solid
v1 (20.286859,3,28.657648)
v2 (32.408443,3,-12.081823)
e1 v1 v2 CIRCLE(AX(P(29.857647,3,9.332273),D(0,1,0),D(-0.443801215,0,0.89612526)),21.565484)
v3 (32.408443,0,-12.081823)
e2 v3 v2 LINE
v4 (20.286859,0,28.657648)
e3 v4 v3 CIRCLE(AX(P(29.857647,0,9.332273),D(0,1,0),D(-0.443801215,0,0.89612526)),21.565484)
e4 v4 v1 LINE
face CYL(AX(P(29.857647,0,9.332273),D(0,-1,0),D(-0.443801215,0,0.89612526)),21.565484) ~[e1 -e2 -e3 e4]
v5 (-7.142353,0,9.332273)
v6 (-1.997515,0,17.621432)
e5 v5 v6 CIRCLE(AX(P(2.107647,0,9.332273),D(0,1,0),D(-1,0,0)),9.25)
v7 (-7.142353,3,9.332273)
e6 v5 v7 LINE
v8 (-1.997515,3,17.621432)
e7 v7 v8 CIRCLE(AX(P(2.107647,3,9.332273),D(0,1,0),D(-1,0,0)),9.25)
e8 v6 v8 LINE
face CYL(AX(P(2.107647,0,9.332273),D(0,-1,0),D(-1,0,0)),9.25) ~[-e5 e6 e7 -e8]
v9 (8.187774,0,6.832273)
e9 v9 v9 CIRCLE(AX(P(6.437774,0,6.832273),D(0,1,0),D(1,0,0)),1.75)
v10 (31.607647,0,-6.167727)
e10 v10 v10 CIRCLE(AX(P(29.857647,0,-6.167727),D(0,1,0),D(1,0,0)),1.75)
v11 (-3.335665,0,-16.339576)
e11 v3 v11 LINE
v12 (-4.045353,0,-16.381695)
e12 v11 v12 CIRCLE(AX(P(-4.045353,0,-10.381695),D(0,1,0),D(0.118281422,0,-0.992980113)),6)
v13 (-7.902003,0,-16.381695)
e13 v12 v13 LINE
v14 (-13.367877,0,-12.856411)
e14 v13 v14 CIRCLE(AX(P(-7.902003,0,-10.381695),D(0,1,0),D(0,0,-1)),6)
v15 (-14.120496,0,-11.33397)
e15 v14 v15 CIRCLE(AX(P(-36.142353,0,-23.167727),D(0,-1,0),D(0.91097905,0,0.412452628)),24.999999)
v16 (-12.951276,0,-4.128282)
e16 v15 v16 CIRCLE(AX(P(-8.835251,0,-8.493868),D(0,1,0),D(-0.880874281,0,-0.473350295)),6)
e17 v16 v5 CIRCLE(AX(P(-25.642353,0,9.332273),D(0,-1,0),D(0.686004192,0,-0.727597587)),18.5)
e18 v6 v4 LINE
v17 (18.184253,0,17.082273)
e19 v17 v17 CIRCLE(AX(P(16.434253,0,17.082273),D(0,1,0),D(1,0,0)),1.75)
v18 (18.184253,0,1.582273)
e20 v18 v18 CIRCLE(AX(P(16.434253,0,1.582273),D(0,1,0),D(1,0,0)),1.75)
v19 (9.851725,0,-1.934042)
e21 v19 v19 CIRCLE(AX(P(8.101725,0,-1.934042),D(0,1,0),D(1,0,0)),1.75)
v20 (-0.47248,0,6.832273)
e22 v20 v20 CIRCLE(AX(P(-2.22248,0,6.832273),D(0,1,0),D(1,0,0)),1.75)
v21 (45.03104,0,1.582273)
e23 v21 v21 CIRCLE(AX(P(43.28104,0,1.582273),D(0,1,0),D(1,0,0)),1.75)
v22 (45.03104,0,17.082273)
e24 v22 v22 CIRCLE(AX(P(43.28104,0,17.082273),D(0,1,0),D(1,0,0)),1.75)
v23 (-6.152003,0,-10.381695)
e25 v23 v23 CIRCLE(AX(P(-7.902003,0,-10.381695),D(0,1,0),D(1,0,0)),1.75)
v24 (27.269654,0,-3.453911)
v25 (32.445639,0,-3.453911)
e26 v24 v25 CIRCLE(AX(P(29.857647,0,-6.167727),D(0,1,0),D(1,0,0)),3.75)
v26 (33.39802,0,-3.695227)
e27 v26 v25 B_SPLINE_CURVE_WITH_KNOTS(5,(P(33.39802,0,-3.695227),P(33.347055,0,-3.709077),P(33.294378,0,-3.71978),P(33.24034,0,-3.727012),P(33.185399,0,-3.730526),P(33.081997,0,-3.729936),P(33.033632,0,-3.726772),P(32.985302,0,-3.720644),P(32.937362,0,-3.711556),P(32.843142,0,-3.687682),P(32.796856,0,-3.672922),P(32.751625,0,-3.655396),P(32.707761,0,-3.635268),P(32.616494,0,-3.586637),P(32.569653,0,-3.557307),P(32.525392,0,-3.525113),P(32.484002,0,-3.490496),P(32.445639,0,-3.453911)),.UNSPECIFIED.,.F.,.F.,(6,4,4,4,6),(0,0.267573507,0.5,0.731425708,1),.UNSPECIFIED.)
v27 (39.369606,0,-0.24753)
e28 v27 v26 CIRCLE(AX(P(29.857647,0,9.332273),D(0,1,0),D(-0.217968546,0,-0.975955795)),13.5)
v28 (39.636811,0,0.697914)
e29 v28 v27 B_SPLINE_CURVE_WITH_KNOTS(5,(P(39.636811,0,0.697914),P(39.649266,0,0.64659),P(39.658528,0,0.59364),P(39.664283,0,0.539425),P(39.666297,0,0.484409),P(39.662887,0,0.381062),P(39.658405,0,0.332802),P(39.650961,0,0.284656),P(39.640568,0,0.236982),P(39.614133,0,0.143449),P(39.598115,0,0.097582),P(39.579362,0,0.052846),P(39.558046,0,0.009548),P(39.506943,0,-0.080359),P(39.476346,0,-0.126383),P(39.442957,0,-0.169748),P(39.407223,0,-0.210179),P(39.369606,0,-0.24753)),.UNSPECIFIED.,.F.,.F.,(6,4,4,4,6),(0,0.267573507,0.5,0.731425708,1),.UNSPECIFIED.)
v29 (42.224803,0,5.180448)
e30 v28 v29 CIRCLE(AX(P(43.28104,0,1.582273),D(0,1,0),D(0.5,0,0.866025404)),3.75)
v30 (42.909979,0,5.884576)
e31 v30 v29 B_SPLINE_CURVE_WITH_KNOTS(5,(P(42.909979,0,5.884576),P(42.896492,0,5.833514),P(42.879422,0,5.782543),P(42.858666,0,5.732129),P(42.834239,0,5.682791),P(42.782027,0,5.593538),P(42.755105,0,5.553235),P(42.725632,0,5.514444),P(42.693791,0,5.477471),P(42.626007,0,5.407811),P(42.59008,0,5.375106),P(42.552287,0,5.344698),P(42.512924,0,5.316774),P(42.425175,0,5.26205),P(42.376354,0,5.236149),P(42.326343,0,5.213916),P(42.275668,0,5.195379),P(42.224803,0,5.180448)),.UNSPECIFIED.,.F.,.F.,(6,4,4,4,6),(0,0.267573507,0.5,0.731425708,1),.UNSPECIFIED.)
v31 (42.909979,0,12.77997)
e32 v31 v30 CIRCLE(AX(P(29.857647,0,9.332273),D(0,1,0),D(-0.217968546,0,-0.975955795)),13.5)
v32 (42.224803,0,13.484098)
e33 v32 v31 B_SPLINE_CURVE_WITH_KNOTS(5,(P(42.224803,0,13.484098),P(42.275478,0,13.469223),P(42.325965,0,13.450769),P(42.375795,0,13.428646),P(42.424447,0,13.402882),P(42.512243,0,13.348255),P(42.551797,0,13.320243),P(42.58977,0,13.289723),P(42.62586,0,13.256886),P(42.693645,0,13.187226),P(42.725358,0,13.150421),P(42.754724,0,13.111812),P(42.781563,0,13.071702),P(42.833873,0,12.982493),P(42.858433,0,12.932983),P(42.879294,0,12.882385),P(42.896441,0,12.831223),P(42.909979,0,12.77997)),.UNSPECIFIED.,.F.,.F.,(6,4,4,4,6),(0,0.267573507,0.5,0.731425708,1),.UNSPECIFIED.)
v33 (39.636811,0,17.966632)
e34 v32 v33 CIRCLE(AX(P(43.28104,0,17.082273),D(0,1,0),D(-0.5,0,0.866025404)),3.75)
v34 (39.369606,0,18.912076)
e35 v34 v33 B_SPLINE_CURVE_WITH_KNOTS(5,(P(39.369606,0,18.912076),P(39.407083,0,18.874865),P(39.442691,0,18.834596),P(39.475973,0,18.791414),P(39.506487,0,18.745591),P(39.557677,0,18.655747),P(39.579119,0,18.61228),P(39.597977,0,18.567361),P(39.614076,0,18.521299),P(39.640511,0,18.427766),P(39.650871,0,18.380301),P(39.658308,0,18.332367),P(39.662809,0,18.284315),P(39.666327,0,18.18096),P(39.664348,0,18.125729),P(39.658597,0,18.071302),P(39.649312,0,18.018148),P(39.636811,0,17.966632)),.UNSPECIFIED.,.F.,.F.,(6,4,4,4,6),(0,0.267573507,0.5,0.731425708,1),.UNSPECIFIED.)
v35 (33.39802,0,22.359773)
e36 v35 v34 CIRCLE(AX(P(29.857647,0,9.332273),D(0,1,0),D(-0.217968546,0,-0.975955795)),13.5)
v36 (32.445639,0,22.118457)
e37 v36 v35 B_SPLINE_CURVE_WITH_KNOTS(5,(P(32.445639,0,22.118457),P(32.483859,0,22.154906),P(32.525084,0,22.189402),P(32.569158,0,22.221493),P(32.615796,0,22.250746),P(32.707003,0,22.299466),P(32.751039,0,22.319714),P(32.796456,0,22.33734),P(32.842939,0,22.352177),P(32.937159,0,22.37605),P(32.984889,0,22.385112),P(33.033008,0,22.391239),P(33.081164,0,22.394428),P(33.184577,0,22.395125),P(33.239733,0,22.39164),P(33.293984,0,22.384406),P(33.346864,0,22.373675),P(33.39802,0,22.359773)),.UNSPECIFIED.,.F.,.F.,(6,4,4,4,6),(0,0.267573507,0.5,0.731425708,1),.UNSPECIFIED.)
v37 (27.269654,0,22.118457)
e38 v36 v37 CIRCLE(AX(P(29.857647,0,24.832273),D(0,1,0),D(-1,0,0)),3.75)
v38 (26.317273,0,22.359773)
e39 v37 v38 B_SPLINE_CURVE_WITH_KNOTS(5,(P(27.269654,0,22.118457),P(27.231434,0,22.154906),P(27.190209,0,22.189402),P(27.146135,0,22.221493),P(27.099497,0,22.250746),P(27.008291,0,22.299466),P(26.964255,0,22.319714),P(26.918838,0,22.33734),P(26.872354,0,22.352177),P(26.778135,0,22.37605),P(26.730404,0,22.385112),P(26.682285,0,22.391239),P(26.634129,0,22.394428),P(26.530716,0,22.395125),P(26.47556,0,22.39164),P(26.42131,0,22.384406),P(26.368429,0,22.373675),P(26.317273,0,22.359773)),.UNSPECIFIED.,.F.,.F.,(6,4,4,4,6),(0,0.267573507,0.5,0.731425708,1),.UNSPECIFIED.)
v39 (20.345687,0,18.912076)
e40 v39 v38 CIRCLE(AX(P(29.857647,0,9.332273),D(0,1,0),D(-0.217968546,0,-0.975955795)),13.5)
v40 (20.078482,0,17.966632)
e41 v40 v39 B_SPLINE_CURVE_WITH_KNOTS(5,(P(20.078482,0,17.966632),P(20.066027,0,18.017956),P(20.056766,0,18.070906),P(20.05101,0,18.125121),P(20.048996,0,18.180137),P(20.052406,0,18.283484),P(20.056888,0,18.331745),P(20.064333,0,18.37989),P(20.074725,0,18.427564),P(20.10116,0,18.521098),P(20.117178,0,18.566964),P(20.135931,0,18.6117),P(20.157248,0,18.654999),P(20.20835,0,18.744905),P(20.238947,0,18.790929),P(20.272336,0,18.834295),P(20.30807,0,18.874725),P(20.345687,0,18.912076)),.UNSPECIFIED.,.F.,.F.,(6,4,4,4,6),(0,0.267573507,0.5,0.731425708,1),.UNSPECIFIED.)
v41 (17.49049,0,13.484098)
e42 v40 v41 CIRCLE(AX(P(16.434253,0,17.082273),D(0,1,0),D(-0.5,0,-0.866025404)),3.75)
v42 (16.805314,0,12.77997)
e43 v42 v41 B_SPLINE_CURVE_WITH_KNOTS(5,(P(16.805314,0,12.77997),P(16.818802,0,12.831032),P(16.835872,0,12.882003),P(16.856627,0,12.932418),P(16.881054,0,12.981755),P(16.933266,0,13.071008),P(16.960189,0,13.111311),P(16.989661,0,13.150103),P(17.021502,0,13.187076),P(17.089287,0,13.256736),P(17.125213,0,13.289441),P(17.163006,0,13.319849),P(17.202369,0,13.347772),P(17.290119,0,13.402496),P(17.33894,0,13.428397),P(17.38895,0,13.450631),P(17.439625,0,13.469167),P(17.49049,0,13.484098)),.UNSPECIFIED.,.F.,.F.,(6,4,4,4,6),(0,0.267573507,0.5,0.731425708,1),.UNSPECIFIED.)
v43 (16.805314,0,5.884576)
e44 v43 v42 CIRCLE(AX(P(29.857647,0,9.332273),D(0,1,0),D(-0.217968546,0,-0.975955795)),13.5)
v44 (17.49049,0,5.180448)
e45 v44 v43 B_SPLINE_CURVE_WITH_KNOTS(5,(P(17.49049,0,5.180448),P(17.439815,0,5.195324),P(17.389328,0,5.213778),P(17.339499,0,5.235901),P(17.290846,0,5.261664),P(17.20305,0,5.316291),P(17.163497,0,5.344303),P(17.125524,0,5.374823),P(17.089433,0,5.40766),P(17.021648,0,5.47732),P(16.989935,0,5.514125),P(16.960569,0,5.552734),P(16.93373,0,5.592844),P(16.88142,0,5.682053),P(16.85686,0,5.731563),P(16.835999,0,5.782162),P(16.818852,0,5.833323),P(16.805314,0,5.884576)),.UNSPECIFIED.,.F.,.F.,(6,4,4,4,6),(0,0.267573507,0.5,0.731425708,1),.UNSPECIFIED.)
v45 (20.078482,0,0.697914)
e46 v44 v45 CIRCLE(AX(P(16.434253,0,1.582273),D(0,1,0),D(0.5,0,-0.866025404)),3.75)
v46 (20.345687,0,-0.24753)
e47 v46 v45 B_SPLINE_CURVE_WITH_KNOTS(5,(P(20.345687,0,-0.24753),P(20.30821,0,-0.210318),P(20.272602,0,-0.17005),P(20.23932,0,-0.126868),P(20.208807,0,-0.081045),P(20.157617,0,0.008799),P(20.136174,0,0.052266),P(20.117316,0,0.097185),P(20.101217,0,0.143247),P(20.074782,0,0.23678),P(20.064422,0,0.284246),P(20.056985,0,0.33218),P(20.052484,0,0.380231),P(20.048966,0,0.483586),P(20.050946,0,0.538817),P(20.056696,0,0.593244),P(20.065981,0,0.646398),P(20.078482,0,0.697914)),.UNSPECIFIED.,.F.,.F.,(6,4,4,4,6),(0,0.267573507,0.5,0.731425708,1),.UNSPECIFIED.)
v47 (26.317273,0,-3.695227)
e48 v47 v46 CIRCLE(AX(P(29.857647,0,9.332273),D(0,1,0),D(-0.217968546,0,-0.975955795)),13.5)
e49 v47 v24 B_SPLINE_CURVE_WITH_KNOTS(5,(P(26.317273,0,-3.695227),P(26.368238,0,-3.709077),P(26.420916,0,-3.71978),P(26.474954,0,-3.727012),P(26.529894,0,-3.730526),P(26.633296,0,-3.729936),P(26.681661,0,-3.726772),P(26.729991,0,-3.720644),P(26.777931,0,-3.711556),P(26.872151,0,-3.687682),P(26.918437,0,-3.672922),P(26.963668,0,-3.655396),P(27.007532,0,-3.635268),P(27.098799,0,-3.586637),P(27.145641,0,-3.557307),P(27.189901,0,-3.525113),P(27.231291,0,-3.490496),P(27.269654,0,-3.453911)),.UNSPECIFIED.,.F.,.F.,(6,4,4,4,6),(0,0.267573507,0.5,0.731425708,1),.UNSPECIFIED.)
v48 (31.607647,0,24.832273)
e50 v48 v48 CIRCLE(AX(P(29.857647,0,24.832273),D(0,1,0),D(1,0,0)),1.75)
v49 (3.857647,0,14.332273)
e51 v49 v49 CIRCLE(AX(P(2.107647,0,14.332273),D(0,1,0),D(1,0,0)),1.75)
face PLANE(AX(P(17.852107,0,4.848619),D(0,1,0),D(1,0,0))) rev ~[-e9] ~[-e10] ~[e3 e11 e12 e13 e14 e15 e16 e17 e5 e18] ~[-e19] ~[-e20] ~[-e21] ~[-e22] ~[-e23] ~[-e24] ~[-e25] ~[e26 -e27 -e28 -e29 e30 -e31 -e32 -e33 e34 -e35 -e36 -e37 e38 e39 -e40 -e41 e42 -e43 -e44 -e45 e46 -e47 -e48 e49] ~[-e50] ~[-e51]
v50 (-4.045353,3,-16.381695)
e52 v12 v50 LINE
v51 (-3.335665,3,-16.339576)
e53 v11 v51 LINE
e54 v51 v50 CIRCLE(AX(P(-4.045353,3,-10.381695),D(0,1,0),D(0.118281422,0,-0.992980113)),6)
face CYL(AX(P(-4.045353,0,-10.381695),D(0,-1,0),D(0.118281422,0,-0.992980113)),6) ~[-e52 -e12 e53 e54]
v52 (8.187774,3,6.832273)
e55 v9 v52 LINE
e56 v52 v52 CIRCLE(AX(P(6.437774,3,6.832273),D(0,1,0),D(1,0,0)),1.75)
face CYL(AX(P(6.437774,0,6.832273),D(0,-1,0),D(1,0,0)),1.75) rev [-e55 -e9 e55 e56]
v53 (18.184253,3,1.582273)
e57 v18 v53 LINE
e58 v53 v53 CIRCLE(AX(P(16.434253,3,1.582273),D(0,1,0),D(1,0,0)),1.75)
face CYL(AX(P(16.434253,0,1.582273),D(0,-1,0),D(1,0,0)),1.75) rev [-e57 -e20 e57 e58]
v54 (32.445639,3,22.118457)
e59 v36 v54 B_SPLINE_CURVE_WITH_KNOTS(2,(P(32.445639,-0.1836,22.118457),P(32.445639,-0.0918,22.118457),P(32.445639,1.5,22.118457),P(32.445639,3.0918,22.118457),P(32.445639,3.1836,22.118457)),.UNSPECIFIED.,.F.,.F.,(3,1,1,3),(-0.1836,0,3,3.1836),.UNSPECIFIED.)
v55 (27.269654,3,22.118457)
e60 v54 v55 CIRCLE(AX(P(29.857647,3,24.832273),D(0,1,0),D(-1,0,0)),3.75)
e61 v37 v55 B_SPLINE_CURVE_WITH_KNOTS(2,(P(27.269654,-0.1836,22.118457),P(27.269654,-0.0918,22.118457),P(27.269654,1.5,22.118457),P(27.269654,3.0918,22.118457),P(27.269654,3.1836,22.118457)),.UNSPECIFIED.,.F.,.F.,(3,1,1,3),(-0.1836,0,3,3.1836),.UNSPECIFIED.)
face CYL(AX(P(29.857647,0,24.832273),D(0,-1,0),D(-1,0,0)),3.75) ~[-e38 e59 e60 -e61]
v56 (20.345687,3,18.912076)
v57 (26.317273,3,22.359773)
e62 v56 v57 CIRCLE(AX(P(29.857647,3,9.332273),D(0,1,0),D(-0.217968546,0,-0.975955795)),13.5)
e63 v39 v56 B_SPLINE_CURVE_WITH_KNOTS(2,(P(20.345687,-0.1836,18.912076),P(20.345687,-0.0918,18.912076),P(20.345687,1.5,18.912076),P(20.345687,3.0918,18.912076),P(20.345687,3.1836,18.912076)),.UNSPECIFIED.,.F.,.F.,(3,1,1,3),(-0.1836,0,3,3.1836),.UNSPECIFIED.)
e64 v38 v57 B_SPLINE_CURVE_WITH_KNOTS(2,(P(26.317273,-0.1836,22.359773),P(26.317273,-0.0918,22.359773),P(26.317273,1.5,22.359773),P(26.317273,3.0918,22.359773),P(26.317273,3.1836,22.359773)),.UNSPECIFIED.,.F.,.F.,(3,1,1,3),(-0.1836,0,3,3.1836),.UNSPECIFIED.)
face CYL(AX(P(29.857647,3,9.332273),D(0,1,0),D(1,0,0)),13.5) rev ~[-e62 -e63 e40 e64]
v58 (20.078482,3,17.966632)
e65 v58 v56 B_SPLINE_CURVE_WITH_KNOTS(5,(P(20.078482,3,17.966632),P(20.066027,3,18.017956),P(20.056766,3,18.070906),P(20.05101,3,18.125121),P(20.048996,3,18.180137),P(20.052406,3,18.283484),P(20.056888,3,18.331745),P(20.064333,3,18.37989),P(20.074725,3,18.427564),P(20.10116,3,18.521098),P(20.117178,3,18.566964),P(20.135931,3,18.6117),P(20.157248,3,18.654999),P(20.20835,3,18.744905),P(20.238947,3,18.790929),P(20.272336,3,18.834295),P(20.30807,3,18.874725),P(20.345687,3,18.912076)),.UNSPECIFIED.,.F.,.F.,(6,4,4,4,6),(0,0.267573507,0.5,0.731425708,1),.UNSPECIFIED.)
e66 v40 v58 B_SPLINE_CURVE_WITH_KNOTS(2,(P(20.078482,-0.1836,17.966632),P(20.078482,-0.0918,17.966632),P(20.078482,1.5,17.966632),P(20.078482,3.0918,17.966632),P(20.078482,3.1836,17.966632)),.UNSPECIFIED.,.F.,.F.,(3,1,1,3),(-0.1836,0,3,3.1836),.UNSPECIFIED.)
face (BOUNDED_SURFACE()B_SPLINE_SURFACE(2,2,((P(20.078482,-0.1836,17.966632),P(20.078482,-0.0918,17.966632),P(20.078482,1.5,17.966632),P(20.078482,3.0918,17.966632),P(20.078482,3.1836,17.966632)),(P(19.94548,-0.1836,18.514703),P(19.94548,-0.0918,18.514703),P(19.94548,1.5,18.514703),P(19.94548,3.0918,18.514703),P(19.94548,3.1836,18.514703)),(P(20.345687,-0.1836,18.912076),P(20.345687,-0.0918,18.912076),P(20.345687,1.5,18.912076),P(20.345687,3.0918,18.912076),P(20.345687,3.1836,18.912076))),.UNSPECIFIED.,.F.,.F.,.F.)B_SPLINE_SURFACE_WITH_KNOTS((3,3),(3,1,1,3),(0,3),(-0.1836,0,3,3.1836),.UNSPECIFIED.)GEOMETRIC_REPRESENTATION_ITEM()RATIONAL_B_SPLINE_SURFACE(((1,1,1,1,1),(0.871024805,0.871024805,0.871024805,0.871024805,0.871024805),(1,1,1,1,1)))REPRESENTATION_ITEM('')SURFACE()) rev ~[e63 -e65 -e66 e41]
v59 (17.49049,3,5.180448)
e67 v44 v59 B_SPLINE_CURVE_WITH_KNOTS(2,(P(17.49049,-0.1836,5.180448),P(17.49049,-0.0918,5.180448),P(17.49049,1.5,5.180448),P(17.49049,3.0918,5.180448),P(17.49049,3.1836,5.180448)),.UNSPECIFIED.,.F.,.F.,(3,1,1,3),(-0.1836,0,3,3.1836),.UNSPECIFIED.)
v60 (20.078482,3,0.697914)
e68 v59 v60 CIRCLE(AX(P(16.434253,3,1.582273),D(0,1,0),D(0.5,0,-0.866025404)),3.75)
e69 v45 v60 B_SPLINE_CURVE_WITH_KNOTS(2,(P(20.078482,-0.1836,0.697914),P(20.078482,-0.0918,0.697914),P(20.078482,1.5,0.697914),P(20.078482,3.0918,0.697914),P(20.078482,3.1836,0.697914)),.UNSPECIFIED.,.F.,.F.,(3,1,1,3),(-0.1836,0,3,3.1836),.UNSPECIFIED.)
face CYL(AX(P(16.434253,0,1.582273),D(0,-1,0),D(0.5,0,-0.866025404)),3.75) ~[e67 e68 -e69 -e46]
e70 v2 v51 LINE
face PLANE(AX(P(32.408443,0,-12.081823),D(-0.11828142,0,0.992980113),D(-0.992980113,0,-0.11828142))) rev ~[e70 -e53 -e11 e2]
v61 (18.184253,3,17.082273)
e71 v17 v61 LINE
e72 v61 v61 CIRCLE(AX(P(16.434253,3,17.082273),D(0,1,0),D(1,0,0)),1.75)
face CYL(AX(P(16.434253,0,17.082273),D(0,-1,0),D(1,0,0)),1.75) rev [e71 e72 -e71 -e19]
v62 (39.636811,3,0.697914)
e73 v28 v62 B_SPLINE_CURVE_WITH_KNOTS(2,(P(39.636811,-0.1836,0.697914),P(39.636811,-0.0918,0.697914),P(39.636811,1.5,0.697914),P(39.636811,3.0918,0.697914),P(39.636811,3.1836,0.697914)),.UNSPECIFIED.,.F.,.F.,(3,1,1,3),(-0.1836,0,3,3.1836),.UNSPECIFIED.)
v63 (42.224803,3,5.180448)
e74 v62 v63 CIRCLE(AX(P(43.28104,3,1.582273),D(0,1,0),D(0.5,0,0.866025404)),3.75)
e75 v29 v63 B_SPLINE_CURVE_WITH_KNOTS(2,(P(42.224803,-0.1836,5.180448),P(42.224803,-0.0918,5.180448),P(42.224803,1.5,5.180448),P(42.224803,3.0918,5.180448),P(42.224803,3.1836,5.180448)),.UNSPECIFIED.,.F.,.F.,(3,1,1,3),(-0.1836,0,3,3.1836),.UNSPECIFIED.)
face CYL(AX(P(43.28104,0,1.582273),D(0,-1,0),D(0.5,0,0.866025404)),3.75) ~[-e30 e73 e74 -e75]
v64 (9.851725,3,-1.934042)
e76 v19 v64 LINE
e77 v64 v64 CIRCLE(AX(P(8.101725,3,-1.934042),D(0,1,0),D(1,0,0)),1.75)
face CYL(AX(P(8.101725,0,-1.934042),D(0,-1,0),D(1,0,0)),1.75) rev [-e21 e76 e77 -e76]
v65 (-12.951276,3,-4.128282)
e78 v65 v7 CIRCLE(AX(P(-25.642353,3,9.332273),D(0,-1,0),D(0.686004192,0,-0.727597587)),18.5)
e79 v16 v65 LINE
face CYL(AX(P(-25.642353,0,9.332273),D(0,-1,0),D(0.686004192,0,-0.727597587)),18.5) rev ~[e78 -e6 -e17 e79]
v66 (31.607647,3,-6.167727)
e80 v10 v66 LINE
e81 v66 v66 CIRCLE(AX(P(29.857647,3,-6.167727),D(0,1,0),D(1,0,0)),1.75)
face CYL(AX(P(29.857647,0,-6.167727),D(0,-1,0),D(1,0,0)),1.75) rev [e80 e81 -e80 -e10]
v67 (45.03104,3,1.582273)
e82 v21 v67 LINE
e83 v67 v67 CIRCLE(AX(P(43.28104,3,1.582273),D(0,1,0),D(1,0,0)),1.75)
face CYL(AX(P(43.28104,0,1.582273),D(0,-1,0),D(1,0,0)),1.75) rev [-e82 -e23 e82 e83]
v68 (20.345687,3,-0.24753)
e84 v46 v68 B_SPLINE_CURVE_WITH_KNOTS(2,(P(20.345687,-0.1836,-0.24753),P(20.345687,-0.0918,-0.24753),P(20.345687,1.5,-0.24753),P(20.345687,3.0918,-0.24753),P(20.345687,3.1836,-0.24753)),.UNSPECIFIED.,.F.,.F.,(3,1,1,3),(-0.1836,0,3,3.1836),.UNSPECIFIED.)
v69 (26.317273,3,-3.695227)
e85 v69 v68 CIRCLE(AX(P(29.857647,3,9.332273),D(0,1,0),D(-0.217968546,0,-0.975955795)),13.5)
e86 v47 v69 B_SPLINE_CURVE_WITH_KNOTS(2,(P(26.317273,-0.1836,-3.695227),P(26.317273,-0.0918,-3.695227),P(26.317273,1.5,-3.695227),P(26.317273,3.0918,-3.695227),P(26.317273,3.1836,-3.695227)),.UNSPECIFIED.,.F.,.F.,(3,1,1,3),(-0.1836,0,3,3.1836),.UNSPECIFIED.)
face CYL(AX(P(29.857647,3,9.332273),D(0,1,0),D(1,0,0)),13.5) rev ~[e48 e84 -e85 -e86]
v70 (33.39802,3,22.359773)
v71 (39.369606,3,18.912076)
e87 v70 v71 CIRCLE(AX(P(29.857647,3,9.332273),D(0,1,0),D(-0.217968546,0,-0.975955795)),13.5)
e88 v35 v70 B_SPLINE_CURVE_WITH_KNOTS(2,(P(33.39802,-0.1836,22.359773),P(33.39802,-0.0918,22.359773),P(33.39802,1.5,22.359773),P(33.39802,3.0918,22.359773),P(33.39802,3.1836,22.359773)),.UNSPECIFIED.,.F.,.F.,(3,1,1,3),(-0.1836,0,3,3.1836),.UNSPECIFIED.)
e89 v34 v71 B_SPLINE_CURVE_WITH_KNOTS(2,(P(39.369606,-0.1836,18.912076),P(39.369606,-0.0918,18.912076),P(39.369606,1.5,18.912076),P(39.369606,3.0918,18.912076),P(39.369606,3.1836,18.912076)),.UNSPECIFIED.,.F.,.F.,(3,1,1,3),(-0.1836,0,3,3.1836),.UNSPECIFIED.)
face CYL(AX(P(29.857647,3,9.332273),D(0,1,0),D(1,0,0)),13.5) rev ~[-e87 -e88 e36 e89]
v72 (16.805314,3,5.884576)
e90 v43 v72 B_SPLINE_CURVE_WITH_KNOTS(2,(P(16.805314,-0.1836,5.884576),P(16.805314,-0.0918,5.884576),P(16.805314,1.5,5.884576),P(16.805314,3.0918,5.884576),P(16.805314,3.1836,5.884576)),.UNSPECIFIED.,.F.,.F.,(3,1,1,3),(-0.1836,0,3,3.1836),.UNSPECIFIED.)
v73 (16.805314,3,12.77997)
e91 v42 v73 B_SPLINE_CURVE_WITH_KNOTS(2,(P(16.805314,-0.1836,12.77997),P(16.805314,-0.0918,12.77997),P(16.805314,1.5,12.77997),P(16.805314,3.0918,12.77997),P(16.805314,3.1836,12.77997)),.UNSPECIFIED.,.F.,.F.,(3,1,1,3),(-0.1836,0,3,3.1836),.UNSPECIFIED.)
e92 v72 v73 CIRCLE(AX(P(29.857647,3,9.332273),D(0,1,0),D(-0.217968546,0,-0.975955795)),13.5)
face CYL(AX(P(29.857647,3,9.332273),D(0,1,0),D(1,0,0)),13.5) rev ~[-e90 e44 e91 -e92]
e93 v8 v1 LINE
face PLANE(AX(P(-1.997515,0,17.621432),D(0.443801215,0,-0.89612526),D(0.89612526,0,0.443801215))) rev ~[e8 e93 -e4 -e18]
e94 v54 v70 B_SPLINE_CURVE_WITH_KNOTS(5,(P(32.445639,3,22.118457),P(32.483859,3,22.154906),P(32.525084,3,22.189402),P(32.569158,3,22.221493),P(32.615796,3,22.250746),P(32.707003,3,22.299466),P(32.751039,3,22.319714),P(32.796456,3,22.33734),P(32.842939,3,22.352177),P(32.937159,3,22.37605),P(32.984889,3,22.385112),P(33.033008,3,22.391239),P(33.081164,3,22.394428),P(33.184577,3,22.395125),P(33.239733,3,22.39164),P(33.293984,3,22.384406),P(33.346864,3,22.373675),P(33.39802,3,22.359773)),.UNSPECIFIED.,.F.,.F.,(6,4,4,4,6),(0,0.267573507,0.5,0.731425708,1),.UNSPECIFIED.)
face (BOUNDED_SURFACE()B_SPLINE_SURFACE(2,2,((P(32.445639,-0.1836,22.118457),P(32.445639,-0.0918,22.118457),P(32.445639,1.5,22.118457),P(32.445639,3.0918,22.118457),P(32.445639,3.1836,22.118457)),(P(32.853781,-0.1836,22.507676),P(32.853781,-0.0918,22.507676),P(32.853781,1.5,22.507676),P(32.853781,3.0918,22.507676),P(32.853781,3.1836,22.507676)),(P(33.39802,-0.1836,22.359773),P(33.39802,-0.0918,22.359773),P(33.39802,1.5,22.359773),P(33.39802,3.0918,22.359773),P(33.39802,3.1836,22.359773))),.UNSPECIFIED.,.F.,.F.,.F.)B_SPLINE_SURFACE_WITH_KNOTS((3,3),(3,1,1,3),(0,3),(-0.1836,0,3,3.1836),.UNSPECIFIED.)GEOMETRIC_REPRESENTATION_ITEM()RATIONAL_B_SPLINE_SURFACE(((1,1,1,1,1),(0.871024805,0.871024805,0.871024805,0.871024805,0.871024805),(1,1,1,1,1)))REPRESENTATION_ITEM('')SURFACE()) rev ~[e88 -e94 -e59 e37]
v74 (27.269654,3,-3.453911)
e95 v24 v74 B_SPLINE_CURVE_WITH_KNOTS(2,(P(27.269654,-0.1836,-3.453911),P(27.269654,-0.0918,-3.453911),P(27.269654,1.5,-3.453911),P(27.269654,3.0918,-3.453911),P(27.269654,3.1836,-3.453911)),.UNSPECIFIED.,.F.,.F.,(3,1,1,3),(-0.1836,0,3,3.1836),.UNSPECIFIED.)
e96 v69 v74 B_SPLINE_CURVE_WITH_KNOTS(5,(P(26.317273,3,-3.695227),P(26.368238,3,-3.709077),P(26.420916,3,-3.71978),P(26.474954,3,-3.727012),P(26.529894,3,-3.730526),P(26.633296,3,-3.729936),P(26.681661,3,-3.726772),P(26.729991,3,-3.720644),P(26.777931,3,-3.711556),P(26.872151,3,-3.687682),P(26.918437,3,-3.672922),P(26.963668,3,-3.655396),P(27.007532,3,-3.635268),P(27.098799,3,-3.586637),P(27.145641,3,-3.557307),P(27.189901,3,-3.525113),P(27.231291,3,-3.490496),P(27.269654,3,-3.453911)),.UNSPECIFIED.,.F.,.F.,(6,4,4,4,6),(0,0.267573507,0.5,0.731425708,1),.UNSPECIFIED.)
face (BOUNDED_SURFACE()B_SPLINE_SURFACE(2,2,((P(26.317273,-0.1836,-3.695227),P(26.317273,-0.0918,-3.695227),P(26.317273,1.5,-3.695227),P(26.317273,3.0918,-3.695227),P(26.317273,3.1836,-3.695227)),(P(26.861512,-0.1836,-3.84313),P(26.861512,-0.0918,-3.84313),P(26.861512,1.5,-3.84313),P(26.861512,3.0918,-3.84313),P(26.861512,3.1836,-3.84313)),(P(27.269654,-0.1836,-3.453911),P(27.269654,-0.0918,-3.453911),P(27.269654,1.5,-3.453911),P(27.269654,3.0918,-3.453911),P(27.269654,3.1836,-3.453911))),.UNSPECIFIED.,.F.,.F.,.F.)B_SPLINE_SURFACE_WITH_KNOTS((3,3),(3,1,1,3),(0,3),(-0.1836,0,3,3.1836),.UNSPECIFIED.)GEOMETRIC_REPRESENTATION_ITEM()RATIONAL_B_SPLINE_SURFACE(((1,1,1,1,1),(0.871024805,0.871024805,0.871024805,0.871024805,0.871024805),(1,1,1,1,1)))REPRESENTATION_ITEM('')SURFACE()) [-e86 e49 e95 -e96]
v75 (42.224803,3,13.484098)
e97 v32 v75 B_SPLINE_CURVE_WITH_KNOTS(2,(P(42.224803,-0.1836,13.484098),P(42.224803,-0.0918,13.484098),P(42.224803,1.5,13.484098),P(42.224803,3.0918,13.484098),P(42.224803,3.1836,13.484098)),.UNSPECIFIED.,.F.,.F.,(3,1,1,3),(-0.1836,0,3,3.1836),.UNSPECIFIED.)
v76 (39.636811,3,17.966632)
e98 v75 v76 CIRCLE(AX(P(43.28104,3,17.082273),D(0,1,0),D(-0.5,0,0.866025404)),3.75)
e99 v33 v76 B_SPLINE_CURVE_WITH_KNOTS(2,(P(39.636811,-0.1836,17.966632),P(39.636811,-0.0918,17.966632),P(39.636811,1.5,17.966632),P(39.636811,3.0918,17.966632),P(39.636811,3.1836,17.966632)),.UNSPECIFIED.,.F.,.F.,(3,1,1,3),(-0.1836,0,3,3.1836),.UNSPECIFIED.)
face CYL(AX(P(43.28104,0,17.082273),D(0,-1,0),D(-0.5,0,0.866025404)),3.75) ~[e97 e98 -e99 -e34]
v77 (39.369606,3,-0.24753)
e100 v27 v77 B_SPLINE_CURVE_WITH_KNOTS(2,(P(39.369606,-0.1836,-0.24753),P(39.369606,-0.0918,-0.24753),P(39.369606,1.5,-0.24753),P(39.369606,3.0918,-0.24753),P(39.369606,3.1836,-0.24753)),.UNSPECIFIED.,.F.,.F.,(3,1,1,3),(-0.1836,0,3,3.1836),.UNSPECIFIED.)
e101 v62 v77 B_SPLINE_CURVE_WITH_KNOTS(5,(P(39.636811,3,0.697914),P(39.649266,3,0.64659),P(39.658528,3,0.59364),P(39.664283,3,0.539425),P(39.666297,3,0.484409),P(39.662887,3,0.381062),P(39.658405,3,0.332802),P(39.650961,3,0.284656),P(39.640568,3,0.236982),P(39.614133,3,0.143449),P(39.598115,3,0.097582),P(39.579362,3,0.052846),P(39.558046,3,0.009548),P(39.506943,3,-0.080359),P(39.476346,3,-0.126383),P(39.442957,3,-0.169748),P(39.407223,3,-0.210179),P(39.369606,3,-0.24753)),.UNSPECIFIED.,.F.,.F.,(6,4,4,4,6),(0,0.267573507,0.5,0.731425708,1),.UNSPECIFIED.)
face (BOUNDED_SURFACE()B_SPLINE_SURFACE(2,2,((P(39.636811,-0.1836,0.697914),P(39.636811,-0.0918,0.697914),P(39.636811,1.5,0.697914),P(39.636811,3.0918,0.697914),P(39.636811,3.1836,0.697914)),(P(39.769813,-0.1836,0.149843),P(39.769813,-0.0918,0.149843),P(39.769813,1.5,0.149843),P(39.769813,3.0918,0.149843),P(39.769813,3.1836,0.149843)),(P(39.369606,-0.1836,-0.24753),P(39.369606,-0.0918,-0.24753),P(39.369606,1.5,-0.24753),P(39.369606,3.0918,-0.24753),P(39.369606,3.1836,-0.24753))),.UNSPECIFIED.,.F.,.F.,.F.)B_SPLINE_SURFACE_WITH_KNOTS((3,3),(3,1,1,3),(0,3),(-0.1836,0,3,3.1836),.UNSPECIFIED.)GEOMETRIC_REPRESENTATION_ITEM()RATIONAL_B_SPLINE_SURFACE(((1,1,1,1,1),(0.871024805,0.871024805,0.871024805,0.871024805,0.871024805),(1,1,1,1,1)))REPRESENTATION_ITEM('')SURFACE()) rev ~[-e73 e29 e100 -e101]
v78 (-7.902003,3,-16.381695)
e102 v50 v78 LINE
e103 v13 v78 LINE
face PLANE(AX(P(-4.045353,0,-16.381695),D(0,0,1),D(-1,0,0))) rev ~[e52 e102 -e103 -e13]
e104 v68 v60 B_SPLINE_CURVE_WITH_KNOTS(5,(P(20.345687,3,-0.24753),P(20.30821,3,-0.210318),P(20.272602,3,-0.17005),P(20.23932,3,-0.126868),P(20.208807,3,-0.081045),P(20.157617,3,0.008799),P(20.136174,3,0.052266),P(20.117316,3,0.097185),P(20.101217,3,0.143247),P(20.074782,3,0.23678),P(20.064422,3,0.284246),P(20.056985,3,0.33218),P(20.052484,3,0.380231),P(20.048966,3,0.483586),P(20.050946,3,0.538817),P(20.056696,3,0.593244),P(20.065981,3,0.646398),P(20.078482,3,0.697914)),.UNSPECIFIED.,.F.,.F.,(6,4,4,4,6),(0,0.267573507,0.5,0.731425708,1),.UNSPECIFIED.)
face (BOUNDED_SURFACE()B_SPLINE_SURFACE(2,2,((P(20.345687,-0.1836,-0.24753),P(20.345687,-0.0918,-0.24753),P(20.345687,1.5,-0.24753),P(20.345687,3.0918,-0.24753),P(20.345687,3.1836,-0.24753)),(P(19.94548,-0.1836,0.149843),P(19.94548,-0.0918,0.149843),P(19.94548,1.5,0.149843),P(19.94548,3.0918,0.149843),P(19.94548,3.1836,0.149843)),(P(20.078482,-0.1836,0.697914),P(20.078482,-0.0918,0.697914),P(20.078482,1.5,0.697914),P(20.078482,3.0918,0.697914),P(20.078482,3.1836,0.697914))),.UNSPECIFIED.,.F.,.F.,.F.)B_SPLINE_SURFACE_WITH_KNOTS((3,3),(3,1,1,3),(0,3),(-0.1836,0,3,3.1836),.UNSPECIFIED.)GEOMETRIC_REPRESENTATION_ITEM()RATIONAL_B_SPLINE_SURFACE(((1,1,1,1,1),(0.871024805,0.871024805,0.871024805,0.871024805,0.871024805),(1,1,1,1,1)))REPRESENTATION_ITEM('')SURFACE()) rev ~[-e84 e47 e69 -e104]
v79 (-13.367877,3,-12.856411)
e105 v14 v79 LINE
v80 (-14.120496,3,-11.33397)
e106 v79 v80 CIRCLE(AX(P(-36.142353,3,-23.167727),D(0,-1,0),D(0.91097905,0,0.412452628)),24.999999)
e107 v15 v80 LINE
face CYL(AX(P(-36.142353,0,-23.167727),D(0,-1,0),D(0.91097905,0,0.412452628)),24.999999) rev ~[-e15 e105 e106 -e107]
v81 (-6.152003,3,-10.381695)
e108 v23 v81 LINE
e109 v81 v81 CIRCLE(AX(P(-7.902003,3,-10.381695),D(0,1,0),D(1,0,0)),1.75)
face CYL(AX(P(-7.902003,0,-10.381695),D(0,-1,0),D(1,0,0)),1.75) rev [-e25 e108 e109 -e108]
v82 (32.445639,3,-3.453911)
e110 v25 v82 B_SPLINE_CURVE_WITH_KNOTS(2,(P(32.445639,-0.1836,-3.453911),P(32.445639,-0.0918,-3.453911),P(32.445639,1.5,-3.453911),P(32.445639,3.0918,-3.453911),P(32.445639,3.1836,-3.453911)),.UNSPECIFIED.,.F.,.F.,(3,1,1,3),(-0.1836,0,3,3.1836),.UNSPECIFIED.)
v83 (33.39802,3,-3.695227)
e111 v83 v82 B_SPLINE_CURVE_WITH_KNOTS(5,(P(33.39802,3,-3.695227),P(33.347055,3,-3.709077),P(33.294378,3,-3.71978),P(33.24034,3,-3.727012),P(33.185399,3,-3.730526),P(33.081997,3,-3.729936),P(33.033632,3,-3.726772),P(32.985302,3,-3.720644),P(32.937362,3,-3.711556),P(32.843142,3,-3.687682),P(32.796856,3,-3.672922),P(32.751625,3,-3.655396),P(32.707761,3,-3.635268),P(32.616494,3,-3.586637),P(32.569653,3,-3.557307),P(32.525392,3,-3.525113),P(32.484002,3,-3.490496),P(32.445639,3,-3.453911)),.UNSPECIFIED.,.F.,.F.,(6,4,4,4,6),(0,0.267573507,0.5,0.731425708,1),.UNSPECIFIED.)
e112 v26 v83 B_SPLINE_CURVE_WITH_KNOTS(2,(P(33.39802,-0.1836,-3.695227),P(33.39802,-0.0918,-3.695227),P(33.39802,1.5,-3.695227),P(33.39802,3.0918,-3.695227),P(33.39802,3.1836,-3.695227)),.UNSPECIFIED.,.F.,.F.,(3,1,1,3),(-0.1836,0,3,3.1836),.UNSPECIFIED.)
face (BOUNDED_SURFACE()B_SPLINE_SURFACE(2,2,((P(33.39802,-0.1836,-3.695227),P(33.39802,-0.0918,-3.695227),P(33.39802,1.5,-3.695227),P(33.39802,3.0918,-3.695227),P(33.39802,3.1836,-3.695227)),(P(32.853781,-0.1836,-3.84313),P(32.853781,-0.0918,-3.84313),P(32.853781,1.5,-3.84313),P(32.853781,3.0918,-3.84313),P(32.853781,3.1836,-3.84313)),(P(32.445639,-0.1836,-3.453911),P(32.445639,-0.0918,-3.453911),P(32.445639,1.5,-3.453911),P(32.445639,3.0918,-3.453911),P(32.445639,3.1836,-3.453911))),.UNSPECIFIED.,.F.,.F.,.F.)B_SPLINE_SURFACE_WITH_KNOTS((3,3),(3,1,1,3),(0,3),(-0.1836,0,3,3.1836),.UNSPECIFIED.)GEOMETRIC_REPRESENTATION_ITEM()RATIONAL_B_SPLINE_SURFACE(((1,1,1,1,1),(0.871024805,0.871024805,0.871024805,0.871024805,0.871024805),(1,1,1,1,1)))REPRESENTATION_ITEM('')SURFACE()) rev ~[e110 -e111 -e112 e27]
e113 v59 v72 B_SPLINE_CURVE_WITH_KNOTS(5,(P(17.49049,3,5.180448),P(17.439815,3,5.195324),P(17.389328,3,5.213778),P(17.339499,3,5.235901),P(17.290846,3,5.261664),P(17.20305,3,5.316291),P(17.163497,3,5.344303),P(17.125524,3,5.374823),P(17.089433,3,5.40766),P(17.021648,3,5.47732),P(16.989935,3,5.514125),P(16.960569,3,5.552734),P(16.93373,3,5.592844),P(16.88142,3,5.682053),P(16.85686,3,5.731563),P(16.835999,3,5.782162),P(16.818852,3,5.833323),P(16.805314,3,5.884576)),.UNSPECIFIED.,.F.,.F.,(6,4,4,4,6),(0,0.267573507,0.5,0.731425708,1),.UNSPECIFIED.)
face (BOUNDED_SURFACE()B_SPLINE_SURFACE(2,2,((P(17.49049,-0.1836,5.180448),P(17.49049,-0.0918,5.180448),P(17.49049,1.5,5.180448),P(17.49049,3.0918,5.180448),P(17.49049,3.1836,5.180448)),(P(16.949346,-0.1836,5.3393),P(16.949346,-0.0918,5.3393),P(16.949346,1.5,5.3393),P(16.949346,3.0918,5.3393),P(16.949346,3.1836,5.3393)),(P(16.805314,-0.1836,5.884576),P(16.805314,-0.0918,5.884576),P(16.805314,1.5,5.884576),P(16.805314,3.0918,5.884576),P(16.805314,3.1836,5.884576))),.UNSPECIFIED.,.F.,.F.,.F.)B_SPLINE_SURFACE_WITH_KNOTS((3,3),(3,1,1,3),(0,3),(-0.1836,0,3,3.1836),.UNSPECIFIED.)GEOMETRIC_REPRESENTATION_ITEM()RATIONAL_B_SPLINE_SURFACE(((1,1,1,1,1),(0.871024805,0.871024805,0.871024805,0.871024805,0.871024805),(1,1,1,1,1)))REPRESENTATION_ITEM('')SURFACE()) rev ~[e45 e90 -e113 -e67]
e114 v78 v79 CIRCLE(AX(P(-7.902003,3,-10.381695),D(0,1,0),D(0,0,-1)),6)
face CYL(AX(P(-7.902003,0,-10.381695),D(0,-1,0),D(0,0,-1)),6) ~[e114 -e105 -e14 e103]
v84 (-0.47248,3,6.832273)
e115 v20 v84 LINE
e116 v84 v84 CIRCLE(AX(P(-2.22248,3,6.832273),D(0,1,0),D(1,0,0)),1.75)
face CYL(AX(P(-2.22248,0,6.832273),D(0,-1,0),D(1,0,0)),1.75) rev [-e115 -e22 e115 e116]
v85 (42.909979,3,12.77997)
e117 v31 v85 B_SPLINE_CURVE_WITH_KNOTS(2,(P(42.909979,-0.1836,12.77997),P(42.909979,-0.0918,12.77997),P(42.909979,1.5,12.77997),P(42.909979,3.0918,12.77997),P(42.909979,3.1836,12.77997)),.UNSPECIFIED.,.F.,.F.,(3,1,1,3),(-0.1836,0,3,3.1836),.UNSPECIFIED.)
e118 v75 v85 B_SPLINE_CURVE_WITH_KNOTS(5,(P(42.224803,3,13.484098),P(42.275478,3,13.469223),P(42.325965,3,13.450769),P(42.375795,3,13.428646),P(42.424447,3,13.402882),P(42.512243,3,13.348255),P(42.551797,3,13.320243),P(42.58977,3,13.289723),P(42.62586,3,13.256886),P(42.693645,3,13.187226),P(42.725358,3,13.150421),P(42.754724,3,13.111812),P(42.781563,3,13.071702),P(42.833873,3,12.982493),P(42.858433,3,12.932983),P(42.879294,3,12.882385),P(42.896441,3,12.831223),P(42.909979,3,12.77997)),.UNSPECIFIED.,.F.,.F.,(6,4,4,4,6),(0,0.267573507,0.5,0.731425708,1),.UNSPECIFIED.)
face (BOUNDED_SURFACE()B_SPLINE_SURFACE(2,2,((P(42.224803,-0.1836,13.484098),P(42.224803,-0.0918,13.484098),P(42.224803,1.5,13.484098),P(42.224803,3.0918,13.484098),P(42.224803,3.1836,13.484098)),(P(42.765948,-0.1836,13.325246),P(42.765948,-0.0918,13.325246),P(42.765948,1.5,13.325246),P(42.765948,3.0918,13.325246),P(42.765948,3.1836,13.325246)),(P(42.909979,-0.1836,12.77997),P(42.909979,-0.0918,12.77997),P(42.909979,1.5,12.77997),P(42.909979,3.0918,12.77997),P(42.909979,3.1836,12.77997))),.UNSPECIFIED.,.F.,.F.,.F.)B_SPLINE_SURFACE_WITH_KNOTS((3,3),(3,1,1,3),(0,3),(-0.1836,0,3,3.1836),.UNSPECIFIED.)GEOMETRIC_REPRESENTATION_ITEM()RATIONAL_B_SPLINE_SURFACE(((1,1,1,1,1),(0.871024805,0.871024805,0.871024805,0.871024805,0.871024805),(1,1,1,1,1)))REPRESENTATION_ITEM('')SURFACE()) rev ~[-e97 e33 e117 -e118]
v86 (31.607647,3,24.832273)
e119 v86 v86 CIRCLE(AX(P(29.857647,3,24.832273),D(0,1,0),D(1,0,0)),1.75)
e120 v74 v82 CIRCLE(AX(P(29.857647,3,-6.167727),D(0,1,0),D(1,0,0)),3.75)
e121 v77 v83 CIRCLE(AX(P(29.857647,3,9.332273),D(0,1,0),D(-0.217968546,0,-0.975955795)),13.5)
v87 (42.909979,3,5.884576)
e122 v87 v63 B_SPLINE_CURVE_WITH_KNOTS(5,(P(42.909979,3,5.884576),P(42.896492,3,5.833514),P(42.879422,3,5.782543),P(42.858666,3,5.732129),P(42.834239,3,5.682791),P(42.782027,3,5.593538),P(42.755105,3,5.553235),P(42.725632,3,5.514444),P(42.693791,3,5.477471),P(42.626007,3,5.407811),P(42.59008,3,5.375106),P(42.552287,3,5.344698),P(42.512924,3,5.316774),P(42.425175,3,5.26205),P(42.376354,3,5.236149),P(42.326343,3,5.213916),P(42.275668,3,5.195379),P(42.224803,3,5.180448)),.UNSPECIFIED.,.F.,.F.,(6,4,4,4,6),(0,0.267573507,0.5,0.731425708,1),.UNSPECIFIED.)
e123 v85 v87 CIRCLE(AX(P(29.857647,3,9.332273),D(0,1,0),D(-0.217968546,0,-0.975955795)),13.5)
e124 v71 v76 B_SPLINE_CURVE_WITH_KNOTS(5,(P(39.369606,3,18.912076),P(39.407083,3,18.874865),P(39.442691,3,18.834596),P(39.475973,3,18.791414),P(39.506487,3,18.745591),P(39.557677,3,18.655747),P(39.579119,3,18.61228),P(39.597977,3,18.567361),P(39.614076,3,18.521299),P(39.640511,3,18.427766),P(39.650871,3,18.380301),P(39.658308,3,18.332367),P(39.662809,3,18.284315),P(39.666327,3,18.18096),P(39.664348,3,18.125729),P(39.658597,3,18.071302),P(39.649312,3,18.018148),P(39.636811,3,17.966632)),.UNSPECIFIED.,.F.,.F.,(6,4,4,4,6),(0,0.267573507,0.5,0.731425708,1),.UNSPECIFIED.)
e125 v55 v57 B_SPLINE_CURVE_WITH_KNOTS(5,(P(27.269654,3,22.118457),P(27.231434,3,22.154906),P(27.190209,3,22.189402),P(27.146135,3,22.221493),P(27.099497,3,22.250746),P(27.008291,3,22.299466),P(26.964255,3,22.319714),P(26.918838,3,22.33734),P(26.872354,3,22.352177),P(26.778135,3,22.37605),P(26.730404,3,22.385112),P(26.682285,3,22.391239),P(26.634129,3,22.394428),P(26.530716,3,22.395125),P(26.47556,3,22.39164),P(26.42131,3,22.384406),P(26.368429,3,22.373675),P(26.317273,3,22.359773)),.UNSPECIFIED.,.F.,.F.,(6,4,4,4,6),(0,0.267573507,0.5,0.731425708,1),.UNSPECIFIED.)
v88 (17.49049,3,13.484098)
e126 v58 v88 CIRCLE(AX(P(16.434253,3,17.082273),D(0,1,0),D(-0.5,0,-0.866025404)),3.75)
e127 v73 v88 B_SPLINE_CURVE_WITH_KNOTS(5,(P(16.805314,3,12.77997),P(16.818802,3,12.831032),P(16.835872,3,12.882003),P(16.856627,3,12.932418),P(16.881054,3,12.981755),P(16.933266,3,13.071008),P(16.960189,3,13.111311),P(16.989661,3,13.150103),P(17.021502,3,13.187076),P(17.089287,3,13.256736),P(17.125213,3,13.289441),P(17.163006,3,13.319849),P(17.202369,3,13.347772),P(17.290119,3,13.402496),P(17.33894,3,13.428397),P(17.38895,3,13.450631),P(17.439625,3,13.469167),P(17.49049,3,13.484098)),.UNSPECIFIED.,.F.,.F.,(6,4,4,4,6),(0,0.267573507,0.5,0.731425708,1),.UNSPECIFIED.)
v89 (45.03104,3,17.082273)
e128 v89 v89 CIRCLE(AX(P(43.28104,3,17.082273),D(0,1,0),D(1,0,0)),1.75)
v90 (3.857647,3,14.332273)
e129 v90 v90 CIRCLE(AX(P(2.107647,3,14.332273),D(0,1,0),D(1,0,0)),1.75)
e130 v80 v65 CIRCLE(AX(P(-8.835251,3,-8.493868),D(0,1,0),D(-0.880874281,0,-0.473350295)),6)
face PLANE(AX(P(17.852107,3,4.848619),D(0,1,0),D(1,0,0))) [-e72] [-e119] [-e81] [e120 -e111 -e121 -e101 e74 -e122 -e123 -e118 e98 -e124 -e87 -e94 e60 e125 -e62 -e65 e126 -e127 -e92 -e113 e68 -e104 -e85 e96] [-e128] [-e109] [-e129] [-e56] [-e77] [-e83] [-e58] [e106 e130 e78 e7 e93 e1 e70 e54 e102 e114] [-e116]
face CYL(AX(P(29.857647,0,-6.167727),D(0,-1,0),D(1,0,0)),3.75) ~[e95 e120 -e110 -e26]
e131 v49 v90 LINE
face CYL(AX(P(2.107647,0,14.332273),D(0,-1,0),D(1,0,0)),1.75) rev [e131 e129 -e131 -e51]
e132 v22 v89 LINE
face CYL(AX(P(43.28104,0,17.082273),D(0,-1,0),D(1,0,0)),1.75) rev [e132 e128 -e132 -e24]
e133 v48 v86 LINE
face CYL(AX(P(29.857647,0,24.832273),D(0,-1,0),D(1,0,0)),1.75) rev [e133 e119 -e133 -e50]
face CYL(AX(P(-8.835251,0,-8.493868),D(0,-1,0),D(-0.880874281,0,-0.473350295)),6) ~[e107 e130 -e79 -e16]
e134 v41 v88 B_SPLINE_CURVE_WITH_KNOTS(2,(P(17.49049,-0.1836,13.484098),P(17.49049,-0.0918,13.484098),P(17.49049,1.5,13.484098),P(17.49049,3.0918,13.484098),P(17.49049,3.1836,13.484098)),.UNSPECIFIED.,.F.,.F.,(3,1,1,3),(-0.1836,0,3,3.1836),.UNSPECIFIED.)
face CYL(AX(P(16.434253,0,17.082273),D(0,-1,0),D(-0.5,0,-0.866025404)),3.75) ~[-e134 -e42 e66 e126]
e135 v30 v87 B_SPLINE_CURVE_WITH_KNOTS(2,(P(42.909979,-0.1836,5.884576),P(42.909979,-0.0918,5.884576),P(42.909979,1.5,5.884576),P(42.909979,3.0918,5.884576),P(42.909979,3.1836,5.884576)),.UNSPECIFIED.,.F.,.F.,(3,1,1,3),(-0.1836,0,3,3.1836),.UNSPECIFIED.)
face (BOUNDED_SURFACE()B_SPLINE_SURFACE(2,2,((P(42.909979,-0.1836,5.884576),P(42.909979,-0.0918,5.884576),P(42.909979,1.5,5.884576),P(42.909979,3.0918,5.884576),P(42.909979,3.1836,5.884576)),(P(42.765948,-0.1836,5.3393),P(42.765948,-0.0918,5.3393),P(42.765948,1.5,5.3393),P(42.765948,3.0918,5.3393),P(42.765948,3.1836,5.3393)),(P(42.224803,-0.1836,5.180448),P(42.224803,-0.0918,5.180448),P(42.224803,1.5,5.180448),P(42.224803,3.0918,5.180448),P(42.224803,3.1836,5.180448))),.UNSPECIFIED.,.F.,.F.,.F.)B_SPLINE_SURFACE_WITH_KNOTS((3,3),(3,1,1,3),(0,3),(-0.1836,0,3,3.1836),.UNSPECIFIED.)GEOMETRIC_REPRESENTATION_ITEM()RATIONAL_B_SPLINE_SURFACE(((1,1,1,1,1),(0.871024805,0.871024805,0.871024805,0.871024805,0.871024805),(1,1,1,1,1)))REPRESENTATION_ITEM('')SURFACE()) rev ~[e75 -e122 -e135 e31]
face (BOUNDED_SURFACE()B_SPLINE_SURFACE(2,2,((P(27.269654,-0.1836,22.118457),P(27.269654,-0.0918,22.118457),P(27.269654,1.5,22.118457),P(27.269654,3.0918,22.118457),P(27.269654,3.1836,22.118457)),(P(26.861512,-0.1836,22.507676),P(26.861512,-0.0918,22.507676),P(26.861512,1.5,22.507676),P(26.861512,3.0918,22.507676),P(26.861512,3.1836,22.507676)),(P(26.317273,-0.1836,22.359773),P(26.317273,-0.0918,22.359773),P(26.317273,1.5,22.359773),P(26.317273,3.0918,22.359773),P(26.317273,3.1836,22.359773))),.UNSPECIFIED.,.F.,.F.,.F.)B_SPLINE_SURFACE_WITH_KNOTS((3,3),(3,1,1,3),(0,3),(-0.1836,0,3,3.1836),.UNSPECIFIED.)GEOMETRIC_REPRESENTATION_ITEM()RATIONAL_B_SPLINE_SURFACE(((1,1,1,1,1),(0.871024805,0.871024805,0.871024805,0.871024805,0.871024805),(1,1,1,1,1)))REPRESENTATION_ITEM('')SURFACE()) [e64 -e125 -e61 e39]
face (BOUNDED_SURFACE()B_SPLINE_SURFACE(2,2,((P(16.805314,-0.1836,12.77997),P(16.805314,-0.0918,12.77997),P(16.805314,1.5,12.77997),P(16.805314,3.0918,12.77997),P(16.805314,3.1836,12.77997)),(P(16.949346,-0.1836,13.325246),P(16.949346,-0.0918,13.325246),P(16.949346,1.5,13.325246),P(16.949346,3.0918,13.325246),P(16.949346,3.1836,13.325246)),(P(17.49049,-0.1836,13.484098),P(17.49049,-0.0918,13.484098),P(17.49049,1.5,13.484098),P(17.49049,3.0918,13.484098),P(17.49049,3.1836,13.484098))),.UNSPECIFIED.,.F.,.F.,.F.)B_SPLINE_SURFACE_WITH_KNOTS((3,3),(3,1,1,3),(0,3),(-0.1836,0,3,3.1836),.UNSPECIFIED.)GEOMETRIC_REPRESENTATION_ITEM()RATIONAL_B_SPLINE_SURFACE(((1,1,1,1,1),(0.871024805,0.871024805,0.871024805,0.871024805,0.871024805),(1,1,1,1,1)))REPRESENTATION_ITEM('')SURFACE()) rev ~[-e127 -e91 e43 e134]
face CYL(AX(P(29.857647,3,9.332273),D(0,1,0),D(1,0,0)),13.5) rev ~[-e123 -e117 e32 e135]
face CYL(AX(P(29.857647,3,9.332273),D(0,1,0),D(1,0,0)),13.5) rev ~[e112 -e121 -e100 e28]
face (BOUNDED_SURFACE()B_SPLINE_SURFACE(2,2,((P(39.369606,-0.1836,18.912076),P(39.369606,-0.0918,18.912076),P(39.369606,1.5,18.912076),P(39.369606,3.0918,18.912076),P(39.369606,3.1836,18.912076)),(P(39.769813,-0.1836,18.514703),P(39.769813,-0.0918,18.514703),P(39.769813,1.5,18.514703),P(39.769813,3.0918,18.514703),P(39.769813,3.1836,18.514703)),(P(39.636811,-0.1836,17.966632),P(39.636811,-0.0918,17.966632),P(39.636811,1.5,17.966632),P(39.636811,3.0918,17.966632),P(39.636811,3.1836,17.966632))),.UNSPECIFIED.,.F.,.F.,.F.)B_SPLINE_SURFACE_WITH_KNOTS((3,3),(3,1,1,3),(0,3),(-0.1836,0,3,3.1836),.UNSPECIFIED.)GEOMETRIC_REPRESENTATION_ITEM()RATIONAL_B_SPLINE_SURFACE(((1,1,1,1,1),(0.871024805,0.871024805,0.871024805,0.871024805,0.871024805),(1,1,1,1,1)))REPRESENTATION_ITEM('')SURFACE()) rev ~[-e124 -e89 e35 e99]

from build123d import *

# Parameters (mm, degrees)
SKETCH_2_R                       = 1.75
EXTRUDE_1_DEPTH                  = 3
CUT_EXTRUDE_1_REACH              = 62.067
SKETCH_3_R                       = 13.5
EXTRUDE_START                    = -3
SKETCH_4_R                       = 3.75
SKETCH_4_R_2                     = 1.75
EXTRUDE_2_DEPTH                  = 3
FILLET_1_R                       = 1
PATTERN_CIRCULAR_1_COUNT         = 6
FILLET_1_OF_PATTERN_CIRCULAR_1_R = 1


with BuildPart() as part:
    # 草图2 → 凸台-拉伸1 (new body)
    with BuildSketch(Plane(origin=(0, 0, 0), x_dir=(1, 0, 0), z_dir=(0, 1, 0))):
        with BuildLine():
            ThreePointArc((-3.33566455, 16.339576043), (-3.689884424, 16.371156277), (-4.04535307, 16.381695363))
            Line((-4.04535307, 16.381695363), (-7.902002826, 16.381695363))
            ThreePointArc((-7.902002826, 16.381695363), (-11.154056436, 15.423931704), (-13.367877124, 12.856411137))
            ThreePointArc((-13.367877124, 12.856411137), (-13.731255095, 12.088797564), (-14.12049634, 11.333969504))
            ThreePointArc((-14.12049634, 11.333969504), (-14.757788596, 7.532855597), (-12.951275808, 4.128282218))
            ThreePointArc((-12.951275808, 4.128282218), (-8.656551428, -2.002025351), (-7.142353364, -9.332273137))
            ThreePointArc((-7.142353364, -9.332273137), (-5.751591288, -14.210272651), (-1.997514606, -17.62143179))
            Line((-1.997514606, -17.62143179), (20.286858748, -28.657647844))
            ThreePointArc((20.286858748, -28.657647844), (50.527581311, -15.482386054), (32.408442676, 12.08182334))
            Line((32.408442676, 12.08182334), (-3.33566455, 16.339576043))
        make_face()
        with Locations((2.107646636, -14.332273137)):
            Circle(SKETCH_2_R, mode=Mode.SUBTRACT)
        with Locations((-2.222480383, -6.832273137)):
            Circle(SKETCH_2_R, mode=Mode.SUBTRACT)
        with Locations((6.437773655, -6.832273137)):
            Circle(SKETCH_2_R, mode=Mode.SUBTRACT)
        with Locations((8.10172473, 1.934042232)):
            Circle(SKETCH_2_R, mode=Mode.SUBTRACT)
        with Locations((-7.902002826, 10.381695363)):
            Circle(SKETCH_2_R, mode=Mode.SUBTRACT)
        with Locations((29.857646636, -24.832273137)):
            Circle(SKETCH_2_R, mode=Mode.SUBTRACT)
        with Locations((43.281040395, -17.082273137)):
            Circle(SKETCH_2_R, mode=Mode.SUBTRACT)
        with Locations((16.434252877, -1.582273137)):
            Circle(SKETCH_2_R, mode=Mode.SUBTRACT)
        with Locations((43.281040395, -1.582273137)):
            Circle(SKETCH_2_R, mode=Mode.SUBTRACT)
        with Locations((29.857646636, 6.167726863)):
            Circle(SKETCH_2_R, mode=Mode.SUBTRACT)
        with Locations((16.434252877, -17.082273137)):
            Circle(SKETCH_2_R, mode=Mode.SUBTRACT)
    extrude(amount=EXTRUDE_1_DEPTH)

    # 草图3 → 切除-拉伸1 (cut, up to next)
    with BuildSketch(Plane(origin=(0, 3, 0), x_dir=(1, 0, 0), z_dir=(0, 1, 0)), mode=Mode.PRIVATE) as cut_extrude_1_sk1:
        with Locations((29.857646636, -9.332273137)):
            Circle(SKETCH_3_R)
    cut_extrude_1_tool1 = extrude(cut_extrude_1_sk1.sketch, amount=-CUT_EXTRUDE_1_REACH, mode=Mode.PRIVATE) & part.part
    add(cut_extrude_1_tool1.solids().sort_by_distance((29.857647, 3, 9.332273))[0], mode=Mode.SUBTRACT)

    # 草图4 → 凸台-拉伸2 (add)
    with BuildSketch(Plane(origin=(0, 3, 0), x_dir=(1, 0, 0), z_dir=(0, 1, 0)).offset(EXTRUDE_START)):
        with Locations((29.857646636, 6.167726863)):
            Circle(SKETCH_4_R)
        with Locations((29.857646636, 6.167726863)):
            Circle(SKETCH_4_R_2, mode=Mode.SUBTRACT)
    extrude_2 = extrude(amount=EXTRUDE_2_DEPTH)

    # 圆角1
    fillet_1_edges = [part.edges().sort_by_distance(p)[0] for p in [
        (32.800222011, 1.5, -3.843130088),
        (26.915071261, 1.5, -3.843130088),
    ]]
    fillet(fillet_1_edges, radius=FILLET_1_R)

    # 阵列(圆周)1: 凸台-拉伸2 ×6 about axis
    pattern_circular_1_axis = Axis((29.857646636, 3, 9.332273137), (0, -1, 0))
    for i in range(1, PATTERN_CIRCULAR_1_COUNT):
        add(extrude_2.rotate(pattern_circular_1_axis, i * 360 / PATTERN_CIRCULAR_1_COUNT))

    # 圆角1 of 阵列(圆周)1
    fillet_1_of_pattern_circular_1_edges = [part.edges().sort_by_distance(p)[0] for p in [
        (42.739168222, 1.5, 5.292916552),
        (39.796592847, 1.5, 0.196226497),
        (39.796592847, 1.5, 18.468319778),
        (42.739168222, 1.5, 13.371629723),
        (26.915071261, 1.5, 22.507676363),
        (32.800222011, 1.5, 22.507676363),
        (16.97612505, 1.5, 13.371629723),
        (19.918700425, 1.5, 18.468319778),
        (19.918700425, 1.5, 0.196226497),
        (16.97612505, 1.5, 5.292916552),
    ]]
    fillet(fillet_1_of_pattern_circular_1_edges, radius=FILLET_1_OF_PATTERN_CIRCULAR_1_R)


solid = part.part
